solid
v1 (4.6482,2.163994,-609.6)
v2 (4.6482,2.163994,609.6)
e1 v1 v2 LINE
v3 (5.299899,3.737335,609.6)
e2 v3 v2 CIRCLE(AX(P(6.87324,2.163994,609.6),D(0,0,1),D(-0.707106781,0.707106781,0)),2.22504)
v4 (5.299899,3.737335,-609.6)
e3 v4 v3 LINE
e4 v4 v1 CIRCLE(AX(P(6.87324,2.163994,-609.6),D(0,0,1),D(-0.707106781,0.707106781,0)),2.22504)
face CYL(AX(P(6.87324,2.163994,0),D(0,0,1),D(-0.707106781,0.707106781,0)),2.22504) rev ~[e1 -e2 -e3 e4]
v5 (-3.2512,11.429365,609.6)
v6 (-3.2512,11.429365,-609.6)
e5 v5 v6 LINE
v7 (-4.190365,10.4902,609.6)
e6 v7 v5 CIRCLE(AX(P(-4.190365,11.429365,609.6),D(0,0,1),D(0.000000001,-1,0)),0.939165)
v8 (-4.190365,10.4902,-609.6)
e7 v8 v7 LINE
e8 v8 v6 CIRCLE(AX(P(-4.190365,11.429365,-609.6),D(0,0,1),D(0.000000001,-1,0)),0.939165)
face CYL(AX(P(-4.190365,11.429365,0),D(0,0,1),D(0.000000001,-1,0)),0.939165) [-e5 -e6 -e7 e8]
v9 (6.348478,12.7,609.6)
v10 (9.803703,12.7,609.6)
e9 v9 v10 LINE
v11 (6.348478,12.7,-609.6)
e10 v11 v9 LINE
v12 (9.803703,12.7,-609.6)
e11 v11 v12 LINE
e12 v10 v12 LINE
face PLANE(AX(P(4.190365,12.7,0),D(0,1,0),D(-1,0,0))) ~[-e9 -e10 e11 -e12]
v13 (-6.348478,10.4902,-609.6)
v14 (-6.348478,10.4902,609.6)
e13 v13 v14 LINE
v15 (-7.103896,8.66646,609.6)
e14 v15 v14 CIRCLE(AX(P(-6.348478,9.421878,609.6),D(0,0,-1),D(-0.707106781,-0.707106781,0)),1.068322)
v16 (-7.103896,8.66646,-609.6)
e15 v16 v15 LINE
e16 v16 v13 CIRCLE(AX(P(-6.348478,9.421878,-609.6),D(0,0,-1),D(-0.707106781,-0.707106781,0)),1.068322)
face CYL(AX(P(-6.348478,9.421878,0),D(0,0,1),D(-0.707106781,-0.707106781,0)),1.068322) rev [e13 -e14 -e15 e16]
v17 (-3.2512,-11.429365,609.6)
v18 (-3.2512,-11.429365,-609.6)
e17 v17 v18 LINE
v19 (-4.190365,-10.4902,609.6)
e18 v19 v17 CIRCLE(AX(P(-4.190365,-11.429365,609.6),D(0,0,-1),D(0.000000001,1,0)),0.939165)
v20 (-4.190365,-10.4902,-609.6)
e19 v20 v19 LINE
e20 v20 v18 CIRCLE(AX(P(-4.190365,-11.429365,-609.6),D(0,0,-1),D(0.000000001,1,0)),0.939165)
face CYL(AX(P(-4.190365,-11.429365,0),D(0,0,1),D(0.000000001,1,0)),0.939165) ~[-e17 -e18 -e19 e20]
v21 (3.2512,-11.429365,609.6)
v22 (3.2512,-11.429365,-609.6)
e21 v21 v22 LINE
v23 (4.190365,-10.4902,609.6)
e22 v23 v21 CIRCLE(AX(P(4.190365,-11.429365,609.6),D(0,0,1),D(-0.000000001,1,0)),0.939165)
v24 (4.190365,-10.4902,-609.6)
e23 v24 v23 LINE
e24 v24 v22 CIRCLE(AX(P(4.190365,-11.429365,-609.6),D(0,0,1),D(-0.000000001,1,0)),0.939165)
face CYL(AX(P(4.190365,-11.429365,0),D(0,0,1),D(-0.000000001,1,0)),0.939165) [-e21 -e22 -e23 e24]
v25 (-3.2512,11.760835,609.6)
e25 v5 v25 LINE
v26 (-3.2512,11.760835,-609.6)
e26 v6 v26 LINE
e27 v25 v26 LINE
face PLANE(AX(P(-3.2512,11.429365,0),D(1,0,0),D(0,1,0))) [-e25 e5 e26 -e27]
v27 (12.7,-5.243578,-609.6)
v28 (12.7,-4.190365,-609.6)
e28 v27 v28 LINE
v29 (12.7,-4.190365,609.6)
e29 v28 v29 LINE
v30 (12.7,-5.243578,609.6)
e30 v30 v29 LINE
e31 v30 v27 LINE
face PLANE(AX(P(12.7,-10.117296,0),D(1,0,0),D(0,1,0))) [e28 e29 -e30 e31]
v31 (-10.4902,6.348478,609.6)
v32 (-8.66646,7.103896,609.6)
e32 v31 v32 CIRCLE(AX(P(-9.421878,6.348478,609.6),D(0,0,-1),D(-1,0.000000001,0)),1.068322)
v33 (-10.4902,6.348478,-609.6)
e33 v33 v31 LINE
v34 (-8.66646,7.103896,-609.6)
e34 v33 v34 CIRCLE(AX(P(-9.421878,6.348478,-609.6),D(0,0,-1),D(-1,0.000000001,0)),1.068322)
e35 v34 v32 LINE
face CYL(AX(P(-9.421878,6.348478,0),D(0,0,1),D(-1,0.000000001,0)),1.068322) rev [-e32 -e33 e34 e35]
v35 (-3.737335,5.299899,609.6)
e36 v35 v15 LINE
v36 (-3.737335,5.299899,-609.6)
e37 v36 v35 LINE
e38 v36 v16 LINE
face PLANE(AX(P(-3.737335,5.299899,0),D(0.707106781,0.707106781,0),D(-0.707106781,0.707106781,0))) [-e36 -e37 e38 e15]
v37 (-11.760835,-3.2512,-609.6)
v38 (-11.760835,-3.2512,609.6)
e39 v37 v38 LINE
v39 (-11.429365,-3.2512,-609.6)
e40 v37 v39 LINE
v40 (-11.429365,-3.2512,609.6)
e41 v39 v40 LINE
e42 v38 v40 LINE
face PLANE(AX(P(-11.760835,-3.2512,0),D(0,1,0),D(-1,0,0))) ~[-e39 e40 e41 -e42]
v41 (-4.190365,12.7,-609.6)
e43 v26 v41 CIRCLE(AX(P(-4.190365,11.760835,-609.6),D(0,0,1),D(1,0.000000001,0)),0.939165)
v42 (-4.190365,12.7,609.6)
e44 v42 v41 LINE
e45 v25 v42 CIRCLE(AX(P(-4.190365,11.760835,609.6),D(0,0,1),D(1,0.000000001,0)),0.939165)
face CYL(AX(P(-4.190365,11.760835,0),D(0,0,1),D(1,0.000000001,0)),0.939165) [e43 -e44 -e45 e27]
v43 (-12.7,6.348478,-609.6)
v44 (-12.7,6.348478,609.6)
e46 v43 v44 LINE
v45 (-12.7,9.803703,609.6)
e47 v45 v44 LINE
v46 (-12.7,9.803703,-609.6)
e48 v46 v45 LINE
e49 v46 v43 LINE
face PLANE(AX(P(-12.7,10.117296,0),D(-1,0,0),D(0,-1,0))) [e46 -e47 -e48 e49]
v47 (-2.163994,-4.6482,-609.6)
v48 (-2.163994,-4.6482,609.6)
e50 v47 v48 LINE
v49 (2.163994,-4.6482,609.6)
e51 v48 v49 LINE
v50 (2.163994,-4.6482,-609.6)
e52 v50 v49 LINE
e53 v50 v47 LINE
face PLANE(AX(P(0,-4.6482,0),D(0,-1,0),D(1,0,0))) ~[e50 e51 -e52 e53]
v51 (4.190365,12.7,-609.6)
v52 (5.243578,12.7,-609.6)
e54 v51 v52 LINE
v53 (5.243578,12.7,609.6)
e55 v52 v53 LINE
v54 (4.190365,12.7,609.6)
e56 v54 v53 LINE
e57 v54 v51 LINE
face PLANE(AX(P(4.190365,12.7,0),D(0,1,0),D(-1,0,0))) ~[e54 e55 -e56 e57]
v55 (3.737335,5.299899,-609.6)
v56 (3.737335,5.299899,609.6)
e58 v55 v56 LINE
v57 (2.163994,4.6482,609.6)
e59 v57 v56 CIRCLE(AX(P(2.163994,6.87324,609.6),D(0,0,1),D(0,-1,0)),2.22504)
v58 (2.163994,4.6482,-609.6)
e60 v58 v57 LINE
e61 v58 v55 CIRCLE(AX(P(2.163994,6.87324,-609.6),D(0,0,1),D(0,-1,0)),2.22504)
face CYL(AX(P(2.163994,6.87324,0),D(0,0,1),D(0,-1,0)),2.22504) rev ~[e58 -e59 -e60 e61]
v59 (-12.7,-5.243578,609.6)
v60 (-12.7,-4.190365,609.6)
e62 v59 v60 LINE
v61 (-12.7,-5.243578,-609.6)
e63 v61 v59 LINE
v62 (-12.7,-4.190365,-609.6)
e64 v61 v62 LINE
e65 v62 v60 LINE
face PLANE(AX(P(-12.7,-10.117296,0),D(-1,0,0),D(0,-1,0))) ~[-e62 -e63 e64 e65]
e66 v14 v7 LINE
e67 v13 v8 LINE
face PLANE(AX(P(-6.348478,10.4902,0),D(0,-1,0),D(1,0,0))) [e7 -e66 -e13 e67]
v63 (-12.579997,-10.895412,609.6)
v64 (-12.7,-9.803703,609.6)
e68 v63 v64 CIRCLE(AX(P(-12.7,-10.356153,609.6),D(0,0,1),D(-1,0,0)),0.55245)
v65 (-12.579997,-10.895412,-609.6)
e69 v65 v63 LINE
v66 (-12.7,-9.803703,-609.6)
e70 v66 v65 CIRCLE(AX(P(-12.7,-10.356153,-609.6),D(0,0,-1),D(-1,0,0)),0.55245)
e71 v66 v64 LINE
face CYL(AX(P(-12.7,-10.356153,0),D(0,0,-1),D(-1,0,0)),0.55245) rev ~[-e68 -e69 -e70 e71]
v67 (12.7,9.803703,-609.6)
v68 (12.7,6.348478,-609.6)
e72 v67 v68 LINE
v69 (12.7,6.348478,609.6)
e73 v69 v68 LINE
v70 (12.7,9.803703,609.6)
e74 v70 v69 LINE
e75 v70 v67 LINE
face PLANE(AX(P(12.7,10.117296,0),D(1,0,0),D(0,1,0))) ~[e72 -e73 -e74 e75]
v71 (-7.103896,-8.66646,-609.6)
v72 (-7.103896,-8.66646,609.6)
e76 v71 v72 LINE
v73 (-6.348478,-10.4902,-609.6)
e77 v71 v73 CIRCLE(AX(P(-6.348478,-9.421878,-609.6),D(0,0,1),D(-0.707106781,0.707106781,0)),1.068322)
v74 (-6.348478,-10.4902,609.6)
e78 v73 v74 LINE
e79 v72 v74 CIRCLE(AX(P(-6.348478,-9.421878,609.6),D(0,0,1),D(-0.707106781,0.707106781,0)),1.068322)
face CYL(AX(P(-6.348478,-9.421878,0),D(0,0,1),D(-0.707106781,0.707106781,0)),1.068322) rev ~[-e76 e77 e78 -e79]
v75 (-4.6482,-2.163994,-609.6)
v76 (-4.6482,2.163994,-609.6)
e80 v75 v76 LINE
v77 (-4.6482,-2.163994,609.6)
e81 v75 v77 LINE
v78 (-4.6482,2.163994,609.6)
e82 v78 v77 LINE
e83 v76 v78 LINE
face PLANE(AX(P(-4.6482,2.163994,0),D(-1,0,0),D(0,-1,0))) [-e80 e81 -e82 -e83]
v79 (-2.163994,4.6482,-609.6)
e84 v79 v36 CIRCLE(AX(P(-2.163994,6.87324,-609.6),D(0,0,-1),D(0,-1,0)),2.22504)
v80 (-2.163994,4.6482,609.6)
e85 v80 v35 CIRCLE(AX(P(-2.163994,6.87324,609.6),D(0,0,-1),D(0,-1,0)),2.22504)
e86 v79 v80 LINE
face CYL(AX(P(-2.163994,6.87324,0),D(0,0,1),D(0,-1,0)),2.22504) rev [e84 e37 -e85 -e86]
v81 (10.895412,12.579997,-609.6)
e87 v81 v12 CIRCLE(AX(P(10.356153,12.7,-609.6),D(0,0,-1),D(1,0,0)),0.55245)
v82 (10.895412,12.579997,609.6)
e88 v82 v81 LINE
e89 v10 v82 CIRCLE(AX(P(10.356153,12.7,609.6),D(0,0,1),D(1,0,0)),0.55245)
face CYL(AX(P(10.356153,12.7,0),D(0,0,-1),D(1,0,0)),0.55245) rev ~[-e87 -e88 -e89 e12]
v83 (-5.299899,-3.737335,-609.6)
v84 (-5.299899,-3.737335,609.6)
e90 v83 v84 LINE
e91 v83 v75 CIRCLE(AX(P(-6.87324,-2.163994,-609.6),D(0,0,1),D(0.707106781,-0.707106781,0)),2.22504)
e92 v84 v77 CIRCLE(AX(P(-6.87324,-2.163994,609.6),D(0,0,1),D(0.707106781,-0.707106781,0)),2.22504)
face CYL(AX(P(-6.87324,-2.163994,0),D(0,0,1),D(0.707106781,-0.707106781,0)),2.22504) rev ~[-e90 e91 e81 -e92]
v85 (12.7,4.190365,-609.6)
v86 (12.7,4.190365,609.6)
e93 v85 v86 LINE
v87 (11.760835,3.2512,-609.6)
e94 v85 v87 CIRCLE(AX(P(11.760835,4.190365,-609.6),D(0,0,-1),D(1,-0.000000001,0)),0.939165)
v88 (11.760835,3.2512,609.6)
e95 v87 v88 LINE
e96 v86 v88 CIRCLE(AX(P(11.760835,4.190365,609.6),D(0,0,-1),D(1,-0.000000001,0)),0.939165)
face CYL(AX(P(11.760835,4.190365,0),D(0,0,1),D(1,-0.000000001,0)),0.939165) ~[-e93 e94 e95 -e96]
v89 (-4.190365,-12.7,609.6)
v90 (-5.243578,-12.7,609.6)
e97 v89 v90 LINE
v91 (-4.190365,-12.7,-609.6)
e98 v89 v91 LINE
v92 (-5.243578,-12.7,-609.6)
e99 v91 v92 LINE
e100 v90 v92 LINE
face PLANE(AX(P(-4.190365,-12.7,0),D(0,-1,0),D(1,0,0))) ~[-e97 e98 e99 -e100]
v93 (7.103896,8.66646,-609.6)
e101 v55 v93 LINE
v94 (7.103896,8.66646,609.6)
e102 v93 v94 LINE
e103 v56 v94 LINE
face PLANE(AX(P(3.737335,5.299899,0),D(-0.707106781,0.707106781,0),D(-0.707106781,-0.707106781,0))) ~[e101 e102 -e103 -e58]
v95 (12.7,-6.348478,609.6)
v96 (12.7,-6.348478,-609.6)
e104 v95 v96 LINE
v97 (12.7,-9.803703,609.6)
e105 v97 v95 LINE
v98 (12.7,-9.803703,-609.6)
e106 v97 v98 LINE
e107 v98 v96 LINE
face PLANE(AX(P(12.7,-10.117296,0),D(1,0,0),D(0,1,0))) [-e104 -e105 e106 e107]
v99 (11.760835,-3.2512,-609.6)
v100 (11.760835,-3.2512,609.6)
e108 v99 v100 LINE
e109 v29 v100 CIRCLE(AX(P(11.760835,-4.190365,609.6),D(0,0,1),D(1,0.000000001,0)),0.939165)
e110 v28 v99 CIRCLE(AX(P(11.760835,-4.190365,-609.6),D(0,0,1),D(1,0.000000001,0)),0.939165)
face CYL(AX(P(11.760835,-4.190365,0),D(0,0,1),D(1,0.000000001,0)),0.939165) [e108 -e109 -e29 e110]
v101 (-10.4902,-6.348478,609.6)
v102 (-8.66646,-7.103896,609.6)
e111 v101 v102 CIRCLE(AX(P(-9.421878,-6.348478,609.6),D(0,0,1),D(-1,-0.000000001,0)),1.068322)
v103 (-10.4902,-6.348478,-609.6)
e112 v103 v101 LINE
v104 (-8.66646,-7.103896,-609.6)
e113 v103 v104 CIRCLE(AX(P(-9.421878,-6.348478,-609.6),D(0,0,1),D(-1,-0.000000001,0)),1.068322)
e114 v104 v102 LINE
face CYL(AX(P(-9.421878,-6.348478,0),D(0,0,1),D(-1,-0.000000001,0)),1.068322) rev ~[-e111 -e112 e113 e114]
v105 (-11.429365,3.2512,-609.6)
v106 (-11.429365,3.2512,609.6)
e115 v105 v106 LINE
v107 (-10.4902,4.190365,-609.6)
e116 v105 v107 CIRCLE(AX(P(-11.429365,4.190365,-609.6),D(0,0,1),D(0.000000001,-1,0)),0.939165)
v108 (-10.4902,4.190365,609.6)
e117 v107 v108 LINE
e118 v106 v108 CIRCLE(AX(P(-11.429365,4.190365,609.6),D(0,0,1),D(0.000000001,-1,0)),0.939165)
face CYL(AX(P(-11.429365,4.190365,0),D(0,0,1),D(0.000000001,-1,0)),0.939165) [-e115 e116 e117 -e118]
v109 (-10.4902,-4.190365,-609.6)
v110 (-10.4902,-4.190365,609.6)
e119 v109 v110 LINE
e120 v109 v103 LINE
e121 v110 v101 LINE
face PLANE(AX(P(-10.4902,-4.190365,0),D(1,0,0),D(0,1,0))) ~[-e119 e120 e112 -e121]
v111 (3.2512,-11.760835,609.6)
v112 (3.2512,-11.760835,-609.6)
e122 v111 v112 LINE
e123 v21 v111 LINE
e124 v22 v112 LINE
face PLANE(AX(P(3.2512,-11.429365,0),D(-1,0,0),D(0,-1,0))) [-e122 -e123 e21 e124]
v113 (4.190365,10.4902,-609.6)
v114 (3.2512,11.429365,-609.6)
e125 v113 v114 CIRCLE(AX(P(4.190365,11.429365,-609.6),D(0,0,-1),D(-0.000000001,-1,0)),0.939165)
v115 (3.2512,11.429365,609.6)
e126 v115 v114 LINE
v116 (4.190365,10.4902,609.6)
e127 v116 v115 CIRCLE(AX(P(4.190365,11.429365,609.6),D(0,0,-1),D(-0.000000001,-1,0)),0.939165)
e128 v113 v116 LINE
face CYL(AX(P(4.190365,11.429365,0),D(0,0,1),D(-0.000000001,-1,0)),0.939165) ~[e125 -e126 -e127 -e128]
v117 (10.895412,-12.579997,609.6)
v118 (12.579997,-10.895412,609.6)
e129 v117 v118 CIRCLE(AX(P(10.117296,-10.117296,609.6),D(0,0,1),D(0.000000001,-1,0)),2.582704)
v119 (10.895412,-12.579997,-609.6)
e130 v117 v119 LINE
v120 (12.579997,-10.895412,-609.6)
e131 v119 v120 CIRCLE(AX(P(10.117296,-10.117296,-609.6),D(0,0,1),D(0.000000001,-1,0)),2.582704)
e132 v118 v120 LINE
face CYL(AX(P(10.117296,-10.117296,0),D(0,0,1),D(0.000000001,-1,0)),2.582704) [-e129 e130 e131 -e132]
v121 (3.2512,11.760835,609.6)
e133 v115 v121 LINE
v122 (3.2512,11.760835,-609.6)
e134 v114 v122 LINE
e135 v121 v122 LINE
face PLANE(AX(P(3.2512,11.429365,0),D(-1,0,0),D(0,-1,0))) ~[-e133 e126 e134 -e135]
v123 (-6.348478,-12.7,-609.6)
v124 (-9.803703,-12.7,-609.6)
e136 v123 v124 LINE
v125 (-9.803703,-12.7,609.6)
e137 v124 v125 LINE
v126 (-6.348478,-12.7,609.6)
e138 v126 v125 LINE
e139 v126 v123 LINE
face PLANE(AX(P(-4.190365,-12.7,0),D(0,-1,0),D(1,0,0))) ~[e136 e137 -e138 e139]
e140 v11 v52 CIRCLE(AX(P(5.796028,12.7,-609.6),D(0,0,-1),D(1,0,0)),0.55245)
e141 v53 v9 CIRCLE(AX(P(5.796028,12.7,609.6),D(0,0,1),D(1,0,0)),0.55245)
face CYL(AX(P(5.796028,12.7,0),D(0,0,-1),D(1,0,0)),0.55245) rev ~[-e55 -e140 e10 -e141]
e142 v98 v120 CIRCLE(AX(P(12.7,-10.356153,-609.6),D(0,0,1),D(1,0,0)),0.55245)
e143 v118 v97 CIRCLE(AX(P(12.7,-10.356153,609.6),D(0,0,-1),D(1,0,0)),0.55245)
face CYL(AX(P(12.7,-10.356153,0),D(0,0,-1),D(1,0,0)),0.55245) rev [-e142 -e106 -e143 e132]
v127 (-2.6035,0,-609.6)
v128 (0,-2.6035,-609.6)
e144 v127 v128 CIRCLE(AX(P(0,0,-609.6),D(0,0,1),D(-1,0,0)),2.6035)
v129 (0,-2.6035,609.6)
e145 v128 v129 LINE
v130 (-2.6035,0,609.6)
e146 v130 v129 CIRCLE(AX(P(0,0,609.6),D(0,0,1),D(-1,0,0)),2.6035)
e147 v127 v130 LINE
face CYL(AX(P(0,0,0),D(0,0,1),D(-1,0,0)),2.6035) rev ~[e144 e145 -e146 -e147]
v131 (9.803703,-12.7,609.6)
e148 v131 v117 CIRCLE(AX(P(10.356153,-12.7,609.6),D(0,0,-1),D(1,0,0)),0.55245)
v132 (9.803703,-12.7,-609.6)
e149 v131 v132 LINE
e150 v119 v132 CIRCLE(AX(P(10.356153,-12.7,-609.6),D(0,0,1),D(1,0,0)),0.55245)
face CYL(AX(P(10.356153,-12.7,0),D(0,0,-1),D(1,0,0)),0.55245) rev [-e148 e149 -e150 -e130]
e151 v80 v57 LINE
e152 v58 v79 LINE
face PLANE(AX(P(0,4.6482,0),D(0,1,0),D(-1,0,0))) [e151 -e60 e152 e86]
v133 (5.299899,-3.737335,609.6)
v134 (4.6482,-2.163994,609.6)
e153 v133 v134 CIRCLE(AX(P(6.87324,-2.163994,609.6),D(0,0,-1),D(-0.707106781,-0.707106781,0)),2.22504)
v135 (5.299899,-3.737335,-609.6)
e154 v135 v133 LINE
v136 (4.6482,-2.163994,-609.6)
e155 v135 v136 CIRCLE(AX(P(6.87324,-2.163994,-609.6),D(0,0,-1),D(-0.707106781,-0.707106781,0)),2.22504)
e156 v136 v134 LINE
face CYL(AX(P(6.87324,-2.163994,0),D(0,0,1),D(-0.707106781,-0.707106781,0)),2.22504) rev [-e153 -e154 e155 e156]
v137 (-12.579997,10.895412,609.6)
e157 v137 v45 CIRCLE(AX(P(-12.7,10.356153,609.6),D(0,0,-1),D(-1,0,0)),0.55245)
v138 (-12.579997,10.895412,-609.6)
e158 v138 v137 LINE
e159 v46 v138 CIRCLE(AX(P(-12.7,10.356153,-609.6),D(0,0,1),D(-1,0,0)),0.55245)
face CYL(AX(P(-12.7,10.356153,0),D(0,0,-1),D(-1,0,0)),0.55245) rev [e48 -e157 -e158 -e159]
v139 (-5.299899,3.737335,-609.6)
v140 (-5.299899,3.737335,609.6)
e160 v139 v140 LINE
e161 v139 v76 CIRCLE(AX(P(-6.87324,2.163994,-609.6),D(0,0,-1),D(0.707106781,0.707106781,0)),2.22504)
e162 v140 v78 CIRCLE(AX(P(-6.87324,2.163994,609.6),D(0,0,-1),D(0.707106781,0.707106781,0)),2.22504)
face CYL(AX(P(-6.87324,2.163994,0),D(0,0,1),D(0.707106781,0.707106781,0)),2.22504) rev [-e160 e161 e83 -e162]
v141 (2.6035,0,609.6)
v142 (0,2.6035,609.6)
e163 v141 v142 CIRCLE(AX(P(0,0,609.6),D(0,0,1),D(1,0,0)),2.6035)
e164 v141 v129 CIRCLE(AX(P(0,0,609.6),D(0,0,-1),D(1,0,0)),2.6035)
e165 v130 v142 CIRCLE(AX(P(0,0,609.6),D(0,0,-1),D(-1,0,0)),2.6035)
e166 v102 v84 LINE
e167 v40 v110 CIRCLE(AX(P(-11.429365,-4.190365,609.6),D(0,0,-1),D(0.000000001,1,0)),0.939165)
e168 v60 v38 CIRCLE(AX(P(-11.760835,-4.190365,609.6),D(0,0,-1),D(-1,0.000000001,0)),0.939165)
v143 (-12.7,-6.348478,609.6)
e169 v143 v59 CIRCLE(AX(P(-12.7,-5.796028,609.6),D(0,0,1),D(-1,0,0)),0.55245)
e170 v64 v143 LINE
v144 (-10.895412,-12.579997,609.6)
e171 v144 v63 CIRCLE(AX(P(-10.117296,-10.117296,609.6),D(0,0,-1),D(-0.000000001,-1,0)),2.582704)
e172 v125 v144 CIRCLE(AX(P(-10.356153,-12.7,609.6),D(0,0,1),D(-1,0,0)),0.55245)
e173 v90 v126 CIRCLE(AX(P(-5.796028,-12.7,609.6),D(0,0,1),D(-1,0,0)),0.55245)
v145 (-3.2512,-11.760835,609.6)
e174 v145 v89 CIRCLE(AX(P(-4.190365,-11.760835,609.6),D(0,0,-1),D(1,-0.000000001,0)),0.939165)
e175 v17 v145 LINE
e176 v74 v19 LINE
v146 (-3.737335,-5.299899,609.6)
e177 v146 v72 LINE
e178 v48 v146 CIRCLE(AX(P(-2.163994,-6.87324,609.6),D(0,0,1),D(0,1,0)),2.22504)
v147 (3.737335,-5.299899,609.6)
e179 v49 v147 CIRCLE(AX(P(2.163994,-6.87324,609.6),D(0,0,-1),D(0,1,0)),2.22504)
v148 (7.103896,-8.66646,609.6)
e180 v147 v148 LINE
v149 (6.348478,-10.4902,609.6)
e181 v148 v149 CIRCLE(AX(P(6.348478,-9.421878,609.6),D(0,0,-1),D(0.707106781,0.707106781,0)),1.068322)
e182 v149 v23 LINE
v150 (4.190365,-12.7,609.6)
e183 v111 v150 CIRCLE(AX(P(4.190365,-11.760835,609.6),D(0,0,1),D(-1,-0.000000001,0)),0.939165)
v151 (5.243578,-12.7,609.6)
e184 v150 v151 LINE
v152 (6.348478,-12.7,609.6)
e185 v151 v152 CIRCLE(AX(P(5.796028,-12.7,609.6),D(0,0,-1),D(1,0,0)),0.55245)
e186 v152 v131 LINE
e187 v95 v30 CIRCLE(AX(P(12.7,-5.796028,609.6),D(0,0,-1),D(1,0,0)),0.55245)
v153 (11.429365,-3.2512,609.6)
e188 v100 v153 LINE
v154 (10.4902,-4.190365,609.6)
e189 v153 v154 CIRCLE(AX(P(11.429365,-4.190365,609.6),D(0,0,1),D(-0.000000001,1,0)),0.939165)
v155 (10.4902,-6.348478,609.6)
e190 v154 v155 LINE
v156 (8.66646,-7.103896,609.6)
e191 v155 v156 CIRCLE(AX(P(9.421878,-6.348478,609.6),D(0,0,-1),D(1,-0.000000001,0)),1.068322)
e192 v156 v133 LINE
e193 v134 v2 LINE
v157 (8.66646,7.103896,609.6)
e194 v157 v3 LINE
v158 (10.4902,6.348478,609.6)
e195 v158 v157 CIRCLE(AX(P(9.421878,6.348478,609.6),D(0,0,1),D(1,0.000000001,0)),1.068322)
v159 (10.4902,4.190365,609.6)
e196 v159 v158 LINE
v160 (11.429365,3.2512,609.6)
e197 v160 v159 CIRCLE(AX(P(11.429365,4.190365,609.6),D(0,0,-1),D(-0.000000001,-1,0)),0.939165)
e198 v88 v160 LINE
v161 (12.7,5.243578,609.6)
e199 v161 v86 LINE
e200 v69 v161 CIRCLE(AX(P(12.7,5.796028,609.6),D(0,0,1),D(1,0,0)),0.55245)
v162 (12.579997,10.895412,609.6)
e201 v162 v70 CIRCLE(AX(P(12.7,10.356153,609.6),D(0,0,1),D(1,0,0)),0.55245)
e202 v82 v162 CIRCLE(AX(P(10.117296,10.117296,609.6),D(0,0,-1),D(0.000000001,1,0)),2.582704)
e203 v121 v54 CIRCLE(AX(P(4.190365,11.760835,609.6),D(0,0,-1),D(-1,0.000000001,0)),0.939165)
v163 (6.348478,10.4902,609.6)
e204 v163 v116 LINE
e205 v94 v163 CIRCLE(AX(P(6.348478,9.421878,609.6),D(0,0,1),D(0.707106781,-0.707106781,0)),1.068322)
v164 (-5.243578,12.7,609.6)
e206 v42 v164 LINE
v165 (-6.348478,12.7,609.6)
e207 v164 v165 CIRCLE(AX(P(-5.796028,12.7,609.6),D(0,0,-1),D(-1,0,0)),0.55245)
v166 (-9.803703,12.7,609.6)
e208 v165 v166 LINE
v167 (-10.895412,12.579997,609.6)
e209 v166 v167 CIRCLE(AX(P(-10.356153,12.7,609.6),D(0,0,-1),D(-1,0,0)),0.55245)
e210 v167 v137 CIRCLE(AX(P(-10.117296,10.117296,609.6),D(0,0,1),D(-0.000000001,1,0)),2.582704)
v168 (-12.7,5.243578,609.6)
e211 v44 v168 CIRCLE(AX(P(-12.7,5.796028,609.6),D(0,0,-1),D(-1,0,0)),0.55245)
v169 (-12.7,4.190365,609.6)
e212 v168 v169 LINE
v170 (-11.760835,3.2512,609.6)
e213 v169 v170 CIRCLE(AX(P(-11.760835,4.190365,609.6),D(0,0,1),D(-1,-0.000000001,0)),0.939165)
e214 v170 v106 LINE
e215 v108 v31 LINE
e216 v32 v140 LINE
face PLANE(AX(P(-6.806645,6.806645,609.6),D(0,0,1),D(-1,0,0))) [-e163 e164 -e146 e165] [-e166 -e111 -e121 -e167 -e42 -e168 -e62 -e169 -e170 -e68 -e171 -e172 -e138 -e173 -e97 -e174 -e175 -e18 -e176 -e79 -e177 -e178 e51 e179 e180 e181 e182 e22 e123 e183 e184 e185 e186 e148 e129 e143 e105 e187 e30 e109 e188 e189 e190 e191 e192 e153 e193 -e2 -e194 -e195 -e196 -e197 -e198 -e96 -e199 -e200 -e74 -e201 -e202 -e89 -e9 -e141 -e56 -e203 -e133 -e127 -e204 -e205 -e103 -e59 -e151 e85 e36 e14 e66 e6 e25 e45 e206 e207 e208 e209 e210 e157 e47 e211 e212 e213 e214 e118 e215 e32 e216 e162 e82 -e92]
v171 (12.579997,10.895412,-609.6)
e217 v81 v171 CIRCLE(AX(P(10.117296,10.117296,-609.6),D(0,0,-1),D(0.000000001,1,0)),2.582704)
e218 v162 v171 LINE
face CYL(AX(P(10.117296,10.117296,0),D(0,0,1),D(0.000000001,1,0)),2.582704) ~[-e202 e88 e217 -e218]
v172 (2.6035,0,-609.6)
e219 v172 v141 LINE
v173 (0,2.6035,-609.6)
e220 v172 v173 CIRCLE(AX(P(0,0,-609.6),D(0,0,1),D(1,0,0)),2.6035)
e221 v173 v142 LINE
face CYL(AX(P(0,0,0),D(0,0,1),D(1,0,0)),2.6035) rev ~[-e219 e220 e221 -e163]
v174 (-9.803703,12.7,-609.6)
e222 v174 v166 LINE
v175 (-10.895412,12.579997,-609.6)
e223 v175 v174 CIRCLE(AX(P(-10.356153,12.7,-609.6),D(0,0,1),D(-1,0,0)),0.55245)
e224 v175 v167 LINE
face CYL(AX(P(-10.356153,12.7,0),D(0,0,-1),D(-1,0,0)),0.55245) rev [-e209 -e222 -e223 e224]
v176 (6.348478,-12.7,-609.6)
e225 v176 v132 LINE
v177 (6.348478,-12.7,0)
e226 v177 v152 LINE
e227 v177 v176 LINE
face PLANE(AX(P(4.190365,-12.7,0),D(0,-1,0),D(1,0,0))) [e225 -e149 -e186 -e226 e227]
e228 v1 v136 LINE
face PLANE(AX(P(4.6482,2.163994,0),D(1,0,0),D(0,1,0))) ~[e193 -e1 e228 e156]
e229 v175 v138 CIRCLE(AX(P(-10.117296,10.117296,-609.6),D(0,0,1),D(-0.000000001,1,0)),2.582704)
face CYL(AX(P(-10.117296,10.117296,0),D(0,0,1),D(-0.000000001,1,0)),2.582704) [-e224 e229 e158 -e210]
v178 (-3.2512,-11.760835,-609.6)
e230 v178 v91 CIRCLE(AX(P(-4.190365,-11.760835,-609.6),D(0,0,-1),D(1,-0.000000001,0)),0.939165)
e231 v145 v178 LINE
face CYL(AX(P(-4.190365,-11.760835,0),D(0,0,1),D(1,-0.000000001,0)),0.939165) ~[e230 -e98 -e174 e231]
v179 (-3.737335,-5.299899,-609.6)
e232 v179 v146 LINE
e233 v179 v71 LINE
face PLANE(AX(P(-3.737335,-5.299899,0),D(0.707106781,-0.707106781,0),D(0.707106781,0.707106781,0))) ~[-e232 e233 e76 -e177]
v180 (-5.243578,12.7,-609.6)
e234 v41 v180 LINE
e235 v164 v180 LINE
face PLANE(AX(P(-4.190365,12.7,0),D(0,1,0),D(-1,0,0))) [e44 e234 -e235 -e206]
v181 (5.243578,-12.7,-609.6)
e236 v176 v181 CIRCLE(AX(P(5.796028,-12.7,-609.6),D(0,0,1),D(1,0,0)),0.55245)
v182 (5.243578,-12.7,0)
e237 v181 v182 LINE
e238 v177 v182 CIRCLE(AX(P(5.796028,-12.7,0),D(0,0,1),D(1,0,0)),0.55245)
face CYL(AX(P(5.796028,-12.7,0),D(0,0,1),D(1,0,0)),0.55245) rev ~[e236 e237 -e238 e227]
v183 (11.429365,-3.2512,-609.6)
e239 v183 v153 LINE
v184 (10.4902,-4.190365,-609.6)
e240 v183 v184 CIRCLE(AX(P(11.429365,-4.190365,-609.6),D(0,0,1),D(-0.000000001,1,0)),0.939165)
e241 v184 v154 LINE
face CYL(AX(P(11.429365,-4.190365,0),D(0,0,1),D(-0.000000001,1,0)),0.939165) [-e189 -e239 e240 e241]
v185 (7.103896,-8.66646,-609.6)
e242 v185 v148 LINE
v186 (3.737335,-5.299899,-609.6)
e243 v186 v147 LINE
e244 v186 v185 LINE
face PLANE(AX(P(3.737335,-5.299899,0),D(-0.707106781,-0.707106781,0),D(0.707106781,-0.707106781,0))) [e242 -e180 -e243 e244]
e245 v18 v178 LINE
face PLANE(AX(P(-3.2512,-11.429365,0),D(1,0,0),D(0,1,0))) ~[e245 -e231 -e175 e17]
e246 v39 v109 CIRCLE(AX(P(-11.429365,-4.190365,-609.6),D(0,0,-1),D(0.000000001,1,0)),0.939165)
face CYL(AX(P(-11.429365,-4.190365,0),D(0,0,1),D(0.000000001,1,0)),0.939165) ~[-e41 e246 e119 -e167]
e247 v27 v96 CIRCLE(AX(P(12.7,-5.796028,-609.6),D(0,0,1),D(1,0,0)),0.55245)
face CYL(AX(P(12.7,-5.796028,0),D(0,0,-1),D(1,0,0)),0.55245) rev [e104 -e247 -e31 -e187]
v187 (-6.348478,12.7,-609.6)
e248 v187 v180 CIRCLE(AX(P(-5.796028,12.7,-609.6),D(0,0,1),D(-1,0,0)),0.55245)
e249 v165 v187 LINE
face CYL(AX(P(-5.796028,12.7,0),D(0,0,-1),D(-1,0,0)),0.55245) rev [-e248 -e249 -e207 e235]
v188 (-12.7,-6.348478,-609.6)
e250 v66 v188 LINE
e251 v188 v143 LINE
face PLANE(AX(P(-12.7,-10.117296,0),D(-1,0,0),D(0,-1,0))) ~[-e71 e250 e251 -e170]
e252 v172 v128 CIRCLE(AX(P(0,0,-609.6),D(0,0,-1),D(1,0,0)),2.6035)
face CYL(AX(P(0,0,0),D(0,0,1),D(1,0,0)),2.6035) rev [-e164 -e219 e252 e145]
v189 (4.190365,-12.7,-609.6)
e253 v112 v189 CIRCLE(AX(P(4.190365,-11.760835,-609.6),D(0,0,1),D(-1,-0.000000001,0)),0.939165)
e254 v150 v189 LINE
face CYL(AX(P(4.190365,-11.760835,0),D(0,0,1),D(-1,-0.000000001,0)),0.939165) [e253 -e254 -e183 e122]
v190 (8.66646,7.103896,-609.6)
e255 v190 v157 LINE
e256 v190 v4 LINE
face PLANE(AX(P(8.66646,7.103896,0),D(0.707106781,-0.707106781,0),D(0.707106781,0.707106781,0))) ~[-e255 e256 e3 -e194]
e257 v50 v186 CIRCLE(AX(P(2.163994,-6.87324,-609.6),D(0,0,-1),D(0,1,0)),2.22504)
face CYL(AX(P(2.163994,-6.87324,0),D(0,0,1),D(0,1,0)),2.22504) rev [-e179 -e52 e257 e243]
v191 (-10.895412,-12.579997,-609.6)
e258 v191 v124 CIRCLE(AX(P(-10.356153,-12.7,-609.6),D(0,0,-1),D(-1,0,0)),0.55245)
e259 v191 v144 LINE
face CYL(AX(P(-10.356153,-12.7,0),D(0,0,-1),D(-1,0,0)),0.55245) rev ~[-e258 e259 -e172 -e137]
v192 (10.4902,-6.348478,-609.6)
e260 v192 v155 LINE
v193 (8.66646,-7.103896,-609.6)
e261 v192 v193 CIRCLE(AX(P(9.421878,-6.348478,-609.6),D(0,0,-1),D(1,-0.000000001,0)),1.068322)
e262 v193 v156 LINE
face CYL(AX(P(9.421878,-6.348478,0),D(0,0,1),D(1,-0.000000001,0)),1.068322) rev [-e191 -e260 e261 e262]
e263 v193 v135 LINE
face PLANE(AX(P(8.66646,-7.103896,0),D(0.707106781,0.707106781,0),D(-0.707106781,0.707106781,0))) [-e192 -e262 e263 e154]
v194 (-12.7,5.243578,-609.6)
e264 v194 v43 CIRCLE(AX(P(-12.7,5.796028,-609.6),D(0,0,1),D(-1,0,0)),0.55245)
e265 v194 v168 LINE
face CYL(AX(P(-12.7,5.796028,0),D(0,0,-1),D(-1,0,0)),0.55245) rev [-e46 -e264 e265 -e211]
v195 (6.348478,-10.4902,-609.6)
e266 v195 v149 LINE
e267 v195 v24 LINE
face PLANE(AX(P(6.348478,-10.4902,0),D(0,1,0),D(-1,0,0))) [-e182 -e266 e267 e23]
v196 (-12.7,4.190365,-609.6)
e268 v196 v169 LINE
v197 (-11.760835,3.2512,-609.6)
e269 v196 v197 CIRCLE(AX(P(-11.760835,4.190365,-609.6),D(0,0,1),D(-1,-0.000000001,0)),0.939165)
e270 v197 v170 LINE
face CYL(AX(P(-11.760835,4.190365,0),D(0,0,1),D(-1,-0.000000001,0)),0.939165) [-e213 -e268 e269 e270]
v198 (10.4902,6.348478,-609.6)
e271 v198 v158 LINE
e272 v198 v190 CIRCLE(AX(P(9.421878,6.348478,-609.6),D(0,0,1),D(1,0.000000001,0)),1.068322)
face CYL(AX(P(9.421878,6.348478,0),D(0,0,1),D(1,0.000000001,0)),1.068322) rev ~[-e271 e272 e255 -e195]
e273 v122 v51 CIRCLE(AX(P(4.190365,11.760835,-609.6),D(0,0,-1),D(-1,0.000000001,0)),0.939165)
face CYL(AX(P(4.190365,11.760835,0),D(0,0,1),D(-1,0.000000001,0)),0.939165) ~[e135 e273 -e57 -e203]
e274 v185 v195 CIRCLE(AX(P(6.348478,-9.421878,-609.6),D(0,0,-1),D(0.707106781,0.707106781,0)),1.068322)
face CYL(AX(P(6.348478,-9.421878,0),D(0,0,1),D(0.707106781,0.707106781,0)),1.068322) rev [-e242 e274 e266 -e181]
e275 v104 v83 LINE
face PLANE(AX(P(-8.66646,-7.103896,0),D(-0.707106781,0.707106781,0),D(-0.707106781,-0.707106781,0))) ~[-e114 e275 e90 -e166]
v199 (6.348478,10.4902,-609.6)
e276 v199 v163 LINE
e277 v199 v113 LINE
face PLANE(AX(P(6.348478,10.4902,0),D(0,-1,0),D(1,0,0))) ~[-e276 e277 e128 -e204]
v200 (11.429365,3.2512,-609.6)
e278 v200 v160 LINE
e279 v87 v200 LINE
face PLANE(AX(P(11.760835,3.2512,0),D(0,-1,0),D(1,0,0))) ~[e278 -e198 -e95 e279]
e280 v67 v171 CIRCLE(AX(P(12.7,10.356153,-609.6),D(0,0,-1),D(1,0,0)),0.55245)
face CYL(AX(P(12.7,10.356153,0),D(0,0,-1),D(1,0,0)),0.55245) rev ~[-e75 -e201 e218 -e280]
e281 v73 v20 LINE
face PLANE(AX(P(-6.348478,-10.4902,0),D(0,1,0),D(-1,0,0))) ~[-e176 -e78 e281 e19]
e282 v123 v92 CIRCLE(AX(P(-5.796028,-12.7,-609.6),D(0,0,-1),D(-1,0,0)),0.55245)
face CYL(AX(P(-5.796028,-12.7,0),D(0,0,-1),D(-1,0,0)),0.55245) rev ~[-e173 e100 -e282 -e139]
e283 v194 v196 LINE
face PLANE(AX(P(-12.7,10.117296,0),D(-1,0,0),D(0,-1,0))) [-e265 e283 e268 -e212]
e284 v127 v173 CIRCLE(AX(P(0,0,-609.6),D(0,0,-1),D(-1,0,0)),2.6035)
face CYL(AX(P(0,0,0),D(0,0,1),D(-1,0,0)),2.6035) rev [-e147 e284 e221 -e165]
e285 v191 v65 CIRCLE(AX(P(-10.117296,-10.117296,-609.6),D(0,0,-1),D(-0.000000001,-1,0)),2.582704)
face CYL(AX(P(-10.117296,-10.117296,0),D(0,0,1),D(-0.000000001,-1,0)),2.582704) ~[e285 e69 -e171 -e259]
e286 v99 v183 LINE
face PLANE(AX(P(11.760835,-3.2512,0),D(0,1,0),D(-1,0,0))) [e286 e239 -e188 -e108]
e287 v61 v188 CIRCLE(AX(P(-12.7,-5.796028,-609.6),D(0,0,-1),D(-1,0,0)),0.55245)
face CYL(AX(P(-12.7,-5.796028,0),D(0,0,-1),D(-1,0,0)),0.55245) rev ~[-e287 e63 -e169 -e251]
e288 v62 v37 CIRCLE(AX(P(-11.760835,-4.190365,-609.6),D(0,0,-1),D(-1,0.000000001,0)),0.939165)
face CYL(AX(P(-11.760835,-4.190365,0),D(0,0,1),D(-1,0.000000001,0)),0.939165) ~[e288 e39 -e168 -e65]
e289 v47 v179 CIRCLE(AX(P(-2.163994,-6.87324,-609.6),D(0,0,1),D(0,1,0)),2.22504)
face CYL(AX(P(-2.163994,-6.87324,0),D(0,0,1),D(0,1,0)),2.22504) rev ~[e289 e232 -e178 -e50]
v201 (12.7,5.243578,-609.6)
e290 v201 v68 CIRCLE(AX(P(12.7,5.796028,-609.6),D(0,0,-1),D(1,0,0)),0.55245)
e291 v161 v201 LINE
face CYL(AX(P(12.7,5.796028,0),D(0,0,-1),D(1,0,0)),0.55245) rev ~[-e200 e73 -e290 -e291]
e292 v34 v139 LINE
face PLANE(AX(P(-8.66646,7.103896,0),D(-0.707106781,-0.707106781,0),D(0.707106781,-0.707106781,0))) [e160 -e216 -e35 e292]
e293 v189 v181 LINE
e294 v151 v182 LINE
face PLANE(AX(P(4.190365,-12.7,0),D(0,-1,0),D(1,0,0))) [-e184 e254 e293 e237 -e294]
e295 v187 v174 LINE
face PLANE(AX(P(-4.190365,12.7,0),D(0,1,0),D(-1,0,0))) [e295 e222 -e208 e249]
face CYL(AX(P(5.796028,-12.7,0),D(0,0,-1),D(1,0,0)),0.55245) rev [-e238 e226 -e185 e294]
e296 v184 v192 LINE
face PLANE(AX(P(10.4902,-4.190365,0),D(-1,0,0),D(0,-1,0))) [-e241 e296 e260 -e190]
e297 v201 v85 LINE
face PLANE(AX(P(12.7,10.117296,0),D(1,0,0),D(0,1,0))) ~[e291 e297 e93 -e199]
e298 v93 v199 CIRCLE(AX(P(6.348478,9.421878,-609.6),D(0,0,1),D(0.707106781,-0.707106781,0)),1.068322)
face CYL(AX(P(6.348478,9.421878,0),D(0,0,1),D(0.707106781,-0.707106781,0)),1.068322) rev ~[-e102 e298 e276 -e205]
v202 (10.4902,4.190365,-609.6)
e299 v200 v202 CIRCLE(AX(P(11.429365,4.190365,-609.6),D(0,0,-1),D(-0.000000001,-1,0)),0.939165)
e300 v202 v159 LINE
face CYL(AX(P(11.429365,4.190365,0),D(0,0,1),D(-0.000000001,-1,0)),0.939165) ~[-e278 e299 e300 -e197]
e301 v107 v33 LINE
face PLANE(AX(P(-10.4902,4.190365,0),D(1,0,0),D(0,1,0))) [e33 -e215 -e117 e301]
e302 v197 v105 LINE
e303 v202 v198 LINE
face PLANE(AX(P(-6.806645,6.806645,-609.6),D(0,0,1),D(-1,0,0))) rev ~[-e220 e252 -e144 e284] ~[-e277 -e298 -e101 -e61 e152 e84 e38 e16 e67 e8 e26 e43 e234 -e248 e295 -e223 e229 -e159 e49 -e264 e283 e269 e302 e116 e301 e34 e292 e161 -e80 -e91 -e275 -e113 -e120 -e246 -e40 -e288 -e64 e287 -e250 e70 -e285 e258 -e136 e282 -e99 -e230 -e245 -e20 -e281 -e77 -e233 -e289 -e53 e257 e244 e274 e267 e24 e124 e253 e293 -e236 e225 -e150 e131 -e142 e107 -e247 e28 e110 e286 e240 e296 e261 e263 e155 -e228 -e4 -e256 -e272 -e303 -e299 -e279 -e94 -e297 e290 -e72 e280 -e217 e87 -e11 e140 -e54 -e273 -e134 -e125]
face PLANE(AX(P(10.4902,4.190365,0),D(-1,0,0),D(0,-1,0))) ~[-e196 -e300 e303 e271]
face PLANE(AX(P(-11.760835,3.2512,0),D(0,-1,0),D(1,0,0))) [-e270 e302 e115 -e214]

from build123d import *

# Parameters (mm, degrees)
BOSS_EXTRUDE1_DEPTH     = 609.6
SKETCH5_R               = 0.55245
CUT_EXTRUDE1_DEPTH      = 610.6
CUT_EXTRUDE1_DEPTH_BACK = 610.6


with BuildPart() as part:
    # Sketch4 → Boss-Extrude1 (new body, symmetric)
    with BuildSketch(Plane.XY):
        with BuildLine():
            Line((4.190365, -12.7), (10.11729625, -12.7))
            ThreePointArc((10.11729625, -12.7), (11.943543585, -11.943543585), (12.7, -10.11729625))
            Line((12.7, -10.11729625), (12.7, -4.190365))
            ThreePointArc((12.7, -4.190365), (12.42492494, -3.52627506), (11.760835, -3.2512))
            Line((11.760835, -3.2512), (11.429365, -3.2512))
            ThreePointArc((11.429365, -3.2512), (10.76527506, -3.52627506), (10.4902, -4.190365))
            Line((10.4902, -4.190365), (10.4902, -6.348478019))
            ThreePointArc((10.4902, -6.348478019), (9.830707141, -7.335478831), (8.666460301, -7.103895736))
            Line((8.666460301, -7.103895736), (5.299899128, -3.737334563))
            ThreePointArc((5.299899128, -3.737334563), (4.817571085, -3.015479634), (4.6482, -2.16399369))
            Line((4.6482, -2.16399369), (4.6482, 0))
            Line((4.6482, 0), (2.6035, 0))
            ThreePointArc((2.6035, 0), (1.840952505, -1.840952505), (0, -2.6035))
            Line((0, -2.6035), (0, -4.6482))
            Line((0, -4.6482), (2.16399369, -4.6482))
            ThreePointArc((2.16399369, -4.6482), (3.015479634, -4.817571085), (3.737334563, -5.299899128))
            Line((3.737334563, -5.299899128), (7.103895736, -8.666460301))
            ThreePointArc((7.103895736, -8.666460301), (7.335478831, -9.830707141), (6.348478019, -10.4902))
            Line((6.348478019, -10.4902), (4.190365, -10.4902))
            ThreePointArc((4.190365, -10.4902), (3.52627506, -10.76527506), (3.2512, -11.429365))
            Line((3.2512, -11.429365), (3.2512, -11.760835))
            ThreePointArc((3.2512, -11.760835), (3.52627506, -12.42492494), (4.190365, -12.7))
        make_face()
    extrude(amount=BOSS_EXTRUDE1_DEPTH, both=True)

    # Sketch5 → Cut-Extrude1 (cut, two sides)
    with BuildSketch(Plane.XY) as cut_extrude1_sk:
        with Locations((10.356153152, -12.7)):
            Circle(SKETCH5_R)
        with Locations((5.796028019, -12.7)):
            Circle(SKETCH5_R)
        with Locations((12.7, -10.356153152)):
            Circle(SKETCH5_R)
        with Locations((12.7, -5.796028019)):
            Circle(SKETCH5_R)
    extrude(amount=CUT_EXTRUDE1_DEPTH, mode=Mode.SUBTRACT)
    extrude(cut_extrude1_sk.sketch, amount=-CUT_EXTRUDE1_DEPTH_BACK, mode=Mode.SUBTRACT)

    # Mirror1: part across plane


with BuildPart() as part_1:
    add(part.part)
    add(part.part.mirror(Plane(origin=(0, 0, 0), x_dir=(0, 0, 1), z_dir=(1, 0, 0))))

    # Mirror2: part across plane


with BuildPart() as part_2:
    add(part_1.part)
    add(part_1.part.mirror(Plane.ZX))


solid = part_2.part
